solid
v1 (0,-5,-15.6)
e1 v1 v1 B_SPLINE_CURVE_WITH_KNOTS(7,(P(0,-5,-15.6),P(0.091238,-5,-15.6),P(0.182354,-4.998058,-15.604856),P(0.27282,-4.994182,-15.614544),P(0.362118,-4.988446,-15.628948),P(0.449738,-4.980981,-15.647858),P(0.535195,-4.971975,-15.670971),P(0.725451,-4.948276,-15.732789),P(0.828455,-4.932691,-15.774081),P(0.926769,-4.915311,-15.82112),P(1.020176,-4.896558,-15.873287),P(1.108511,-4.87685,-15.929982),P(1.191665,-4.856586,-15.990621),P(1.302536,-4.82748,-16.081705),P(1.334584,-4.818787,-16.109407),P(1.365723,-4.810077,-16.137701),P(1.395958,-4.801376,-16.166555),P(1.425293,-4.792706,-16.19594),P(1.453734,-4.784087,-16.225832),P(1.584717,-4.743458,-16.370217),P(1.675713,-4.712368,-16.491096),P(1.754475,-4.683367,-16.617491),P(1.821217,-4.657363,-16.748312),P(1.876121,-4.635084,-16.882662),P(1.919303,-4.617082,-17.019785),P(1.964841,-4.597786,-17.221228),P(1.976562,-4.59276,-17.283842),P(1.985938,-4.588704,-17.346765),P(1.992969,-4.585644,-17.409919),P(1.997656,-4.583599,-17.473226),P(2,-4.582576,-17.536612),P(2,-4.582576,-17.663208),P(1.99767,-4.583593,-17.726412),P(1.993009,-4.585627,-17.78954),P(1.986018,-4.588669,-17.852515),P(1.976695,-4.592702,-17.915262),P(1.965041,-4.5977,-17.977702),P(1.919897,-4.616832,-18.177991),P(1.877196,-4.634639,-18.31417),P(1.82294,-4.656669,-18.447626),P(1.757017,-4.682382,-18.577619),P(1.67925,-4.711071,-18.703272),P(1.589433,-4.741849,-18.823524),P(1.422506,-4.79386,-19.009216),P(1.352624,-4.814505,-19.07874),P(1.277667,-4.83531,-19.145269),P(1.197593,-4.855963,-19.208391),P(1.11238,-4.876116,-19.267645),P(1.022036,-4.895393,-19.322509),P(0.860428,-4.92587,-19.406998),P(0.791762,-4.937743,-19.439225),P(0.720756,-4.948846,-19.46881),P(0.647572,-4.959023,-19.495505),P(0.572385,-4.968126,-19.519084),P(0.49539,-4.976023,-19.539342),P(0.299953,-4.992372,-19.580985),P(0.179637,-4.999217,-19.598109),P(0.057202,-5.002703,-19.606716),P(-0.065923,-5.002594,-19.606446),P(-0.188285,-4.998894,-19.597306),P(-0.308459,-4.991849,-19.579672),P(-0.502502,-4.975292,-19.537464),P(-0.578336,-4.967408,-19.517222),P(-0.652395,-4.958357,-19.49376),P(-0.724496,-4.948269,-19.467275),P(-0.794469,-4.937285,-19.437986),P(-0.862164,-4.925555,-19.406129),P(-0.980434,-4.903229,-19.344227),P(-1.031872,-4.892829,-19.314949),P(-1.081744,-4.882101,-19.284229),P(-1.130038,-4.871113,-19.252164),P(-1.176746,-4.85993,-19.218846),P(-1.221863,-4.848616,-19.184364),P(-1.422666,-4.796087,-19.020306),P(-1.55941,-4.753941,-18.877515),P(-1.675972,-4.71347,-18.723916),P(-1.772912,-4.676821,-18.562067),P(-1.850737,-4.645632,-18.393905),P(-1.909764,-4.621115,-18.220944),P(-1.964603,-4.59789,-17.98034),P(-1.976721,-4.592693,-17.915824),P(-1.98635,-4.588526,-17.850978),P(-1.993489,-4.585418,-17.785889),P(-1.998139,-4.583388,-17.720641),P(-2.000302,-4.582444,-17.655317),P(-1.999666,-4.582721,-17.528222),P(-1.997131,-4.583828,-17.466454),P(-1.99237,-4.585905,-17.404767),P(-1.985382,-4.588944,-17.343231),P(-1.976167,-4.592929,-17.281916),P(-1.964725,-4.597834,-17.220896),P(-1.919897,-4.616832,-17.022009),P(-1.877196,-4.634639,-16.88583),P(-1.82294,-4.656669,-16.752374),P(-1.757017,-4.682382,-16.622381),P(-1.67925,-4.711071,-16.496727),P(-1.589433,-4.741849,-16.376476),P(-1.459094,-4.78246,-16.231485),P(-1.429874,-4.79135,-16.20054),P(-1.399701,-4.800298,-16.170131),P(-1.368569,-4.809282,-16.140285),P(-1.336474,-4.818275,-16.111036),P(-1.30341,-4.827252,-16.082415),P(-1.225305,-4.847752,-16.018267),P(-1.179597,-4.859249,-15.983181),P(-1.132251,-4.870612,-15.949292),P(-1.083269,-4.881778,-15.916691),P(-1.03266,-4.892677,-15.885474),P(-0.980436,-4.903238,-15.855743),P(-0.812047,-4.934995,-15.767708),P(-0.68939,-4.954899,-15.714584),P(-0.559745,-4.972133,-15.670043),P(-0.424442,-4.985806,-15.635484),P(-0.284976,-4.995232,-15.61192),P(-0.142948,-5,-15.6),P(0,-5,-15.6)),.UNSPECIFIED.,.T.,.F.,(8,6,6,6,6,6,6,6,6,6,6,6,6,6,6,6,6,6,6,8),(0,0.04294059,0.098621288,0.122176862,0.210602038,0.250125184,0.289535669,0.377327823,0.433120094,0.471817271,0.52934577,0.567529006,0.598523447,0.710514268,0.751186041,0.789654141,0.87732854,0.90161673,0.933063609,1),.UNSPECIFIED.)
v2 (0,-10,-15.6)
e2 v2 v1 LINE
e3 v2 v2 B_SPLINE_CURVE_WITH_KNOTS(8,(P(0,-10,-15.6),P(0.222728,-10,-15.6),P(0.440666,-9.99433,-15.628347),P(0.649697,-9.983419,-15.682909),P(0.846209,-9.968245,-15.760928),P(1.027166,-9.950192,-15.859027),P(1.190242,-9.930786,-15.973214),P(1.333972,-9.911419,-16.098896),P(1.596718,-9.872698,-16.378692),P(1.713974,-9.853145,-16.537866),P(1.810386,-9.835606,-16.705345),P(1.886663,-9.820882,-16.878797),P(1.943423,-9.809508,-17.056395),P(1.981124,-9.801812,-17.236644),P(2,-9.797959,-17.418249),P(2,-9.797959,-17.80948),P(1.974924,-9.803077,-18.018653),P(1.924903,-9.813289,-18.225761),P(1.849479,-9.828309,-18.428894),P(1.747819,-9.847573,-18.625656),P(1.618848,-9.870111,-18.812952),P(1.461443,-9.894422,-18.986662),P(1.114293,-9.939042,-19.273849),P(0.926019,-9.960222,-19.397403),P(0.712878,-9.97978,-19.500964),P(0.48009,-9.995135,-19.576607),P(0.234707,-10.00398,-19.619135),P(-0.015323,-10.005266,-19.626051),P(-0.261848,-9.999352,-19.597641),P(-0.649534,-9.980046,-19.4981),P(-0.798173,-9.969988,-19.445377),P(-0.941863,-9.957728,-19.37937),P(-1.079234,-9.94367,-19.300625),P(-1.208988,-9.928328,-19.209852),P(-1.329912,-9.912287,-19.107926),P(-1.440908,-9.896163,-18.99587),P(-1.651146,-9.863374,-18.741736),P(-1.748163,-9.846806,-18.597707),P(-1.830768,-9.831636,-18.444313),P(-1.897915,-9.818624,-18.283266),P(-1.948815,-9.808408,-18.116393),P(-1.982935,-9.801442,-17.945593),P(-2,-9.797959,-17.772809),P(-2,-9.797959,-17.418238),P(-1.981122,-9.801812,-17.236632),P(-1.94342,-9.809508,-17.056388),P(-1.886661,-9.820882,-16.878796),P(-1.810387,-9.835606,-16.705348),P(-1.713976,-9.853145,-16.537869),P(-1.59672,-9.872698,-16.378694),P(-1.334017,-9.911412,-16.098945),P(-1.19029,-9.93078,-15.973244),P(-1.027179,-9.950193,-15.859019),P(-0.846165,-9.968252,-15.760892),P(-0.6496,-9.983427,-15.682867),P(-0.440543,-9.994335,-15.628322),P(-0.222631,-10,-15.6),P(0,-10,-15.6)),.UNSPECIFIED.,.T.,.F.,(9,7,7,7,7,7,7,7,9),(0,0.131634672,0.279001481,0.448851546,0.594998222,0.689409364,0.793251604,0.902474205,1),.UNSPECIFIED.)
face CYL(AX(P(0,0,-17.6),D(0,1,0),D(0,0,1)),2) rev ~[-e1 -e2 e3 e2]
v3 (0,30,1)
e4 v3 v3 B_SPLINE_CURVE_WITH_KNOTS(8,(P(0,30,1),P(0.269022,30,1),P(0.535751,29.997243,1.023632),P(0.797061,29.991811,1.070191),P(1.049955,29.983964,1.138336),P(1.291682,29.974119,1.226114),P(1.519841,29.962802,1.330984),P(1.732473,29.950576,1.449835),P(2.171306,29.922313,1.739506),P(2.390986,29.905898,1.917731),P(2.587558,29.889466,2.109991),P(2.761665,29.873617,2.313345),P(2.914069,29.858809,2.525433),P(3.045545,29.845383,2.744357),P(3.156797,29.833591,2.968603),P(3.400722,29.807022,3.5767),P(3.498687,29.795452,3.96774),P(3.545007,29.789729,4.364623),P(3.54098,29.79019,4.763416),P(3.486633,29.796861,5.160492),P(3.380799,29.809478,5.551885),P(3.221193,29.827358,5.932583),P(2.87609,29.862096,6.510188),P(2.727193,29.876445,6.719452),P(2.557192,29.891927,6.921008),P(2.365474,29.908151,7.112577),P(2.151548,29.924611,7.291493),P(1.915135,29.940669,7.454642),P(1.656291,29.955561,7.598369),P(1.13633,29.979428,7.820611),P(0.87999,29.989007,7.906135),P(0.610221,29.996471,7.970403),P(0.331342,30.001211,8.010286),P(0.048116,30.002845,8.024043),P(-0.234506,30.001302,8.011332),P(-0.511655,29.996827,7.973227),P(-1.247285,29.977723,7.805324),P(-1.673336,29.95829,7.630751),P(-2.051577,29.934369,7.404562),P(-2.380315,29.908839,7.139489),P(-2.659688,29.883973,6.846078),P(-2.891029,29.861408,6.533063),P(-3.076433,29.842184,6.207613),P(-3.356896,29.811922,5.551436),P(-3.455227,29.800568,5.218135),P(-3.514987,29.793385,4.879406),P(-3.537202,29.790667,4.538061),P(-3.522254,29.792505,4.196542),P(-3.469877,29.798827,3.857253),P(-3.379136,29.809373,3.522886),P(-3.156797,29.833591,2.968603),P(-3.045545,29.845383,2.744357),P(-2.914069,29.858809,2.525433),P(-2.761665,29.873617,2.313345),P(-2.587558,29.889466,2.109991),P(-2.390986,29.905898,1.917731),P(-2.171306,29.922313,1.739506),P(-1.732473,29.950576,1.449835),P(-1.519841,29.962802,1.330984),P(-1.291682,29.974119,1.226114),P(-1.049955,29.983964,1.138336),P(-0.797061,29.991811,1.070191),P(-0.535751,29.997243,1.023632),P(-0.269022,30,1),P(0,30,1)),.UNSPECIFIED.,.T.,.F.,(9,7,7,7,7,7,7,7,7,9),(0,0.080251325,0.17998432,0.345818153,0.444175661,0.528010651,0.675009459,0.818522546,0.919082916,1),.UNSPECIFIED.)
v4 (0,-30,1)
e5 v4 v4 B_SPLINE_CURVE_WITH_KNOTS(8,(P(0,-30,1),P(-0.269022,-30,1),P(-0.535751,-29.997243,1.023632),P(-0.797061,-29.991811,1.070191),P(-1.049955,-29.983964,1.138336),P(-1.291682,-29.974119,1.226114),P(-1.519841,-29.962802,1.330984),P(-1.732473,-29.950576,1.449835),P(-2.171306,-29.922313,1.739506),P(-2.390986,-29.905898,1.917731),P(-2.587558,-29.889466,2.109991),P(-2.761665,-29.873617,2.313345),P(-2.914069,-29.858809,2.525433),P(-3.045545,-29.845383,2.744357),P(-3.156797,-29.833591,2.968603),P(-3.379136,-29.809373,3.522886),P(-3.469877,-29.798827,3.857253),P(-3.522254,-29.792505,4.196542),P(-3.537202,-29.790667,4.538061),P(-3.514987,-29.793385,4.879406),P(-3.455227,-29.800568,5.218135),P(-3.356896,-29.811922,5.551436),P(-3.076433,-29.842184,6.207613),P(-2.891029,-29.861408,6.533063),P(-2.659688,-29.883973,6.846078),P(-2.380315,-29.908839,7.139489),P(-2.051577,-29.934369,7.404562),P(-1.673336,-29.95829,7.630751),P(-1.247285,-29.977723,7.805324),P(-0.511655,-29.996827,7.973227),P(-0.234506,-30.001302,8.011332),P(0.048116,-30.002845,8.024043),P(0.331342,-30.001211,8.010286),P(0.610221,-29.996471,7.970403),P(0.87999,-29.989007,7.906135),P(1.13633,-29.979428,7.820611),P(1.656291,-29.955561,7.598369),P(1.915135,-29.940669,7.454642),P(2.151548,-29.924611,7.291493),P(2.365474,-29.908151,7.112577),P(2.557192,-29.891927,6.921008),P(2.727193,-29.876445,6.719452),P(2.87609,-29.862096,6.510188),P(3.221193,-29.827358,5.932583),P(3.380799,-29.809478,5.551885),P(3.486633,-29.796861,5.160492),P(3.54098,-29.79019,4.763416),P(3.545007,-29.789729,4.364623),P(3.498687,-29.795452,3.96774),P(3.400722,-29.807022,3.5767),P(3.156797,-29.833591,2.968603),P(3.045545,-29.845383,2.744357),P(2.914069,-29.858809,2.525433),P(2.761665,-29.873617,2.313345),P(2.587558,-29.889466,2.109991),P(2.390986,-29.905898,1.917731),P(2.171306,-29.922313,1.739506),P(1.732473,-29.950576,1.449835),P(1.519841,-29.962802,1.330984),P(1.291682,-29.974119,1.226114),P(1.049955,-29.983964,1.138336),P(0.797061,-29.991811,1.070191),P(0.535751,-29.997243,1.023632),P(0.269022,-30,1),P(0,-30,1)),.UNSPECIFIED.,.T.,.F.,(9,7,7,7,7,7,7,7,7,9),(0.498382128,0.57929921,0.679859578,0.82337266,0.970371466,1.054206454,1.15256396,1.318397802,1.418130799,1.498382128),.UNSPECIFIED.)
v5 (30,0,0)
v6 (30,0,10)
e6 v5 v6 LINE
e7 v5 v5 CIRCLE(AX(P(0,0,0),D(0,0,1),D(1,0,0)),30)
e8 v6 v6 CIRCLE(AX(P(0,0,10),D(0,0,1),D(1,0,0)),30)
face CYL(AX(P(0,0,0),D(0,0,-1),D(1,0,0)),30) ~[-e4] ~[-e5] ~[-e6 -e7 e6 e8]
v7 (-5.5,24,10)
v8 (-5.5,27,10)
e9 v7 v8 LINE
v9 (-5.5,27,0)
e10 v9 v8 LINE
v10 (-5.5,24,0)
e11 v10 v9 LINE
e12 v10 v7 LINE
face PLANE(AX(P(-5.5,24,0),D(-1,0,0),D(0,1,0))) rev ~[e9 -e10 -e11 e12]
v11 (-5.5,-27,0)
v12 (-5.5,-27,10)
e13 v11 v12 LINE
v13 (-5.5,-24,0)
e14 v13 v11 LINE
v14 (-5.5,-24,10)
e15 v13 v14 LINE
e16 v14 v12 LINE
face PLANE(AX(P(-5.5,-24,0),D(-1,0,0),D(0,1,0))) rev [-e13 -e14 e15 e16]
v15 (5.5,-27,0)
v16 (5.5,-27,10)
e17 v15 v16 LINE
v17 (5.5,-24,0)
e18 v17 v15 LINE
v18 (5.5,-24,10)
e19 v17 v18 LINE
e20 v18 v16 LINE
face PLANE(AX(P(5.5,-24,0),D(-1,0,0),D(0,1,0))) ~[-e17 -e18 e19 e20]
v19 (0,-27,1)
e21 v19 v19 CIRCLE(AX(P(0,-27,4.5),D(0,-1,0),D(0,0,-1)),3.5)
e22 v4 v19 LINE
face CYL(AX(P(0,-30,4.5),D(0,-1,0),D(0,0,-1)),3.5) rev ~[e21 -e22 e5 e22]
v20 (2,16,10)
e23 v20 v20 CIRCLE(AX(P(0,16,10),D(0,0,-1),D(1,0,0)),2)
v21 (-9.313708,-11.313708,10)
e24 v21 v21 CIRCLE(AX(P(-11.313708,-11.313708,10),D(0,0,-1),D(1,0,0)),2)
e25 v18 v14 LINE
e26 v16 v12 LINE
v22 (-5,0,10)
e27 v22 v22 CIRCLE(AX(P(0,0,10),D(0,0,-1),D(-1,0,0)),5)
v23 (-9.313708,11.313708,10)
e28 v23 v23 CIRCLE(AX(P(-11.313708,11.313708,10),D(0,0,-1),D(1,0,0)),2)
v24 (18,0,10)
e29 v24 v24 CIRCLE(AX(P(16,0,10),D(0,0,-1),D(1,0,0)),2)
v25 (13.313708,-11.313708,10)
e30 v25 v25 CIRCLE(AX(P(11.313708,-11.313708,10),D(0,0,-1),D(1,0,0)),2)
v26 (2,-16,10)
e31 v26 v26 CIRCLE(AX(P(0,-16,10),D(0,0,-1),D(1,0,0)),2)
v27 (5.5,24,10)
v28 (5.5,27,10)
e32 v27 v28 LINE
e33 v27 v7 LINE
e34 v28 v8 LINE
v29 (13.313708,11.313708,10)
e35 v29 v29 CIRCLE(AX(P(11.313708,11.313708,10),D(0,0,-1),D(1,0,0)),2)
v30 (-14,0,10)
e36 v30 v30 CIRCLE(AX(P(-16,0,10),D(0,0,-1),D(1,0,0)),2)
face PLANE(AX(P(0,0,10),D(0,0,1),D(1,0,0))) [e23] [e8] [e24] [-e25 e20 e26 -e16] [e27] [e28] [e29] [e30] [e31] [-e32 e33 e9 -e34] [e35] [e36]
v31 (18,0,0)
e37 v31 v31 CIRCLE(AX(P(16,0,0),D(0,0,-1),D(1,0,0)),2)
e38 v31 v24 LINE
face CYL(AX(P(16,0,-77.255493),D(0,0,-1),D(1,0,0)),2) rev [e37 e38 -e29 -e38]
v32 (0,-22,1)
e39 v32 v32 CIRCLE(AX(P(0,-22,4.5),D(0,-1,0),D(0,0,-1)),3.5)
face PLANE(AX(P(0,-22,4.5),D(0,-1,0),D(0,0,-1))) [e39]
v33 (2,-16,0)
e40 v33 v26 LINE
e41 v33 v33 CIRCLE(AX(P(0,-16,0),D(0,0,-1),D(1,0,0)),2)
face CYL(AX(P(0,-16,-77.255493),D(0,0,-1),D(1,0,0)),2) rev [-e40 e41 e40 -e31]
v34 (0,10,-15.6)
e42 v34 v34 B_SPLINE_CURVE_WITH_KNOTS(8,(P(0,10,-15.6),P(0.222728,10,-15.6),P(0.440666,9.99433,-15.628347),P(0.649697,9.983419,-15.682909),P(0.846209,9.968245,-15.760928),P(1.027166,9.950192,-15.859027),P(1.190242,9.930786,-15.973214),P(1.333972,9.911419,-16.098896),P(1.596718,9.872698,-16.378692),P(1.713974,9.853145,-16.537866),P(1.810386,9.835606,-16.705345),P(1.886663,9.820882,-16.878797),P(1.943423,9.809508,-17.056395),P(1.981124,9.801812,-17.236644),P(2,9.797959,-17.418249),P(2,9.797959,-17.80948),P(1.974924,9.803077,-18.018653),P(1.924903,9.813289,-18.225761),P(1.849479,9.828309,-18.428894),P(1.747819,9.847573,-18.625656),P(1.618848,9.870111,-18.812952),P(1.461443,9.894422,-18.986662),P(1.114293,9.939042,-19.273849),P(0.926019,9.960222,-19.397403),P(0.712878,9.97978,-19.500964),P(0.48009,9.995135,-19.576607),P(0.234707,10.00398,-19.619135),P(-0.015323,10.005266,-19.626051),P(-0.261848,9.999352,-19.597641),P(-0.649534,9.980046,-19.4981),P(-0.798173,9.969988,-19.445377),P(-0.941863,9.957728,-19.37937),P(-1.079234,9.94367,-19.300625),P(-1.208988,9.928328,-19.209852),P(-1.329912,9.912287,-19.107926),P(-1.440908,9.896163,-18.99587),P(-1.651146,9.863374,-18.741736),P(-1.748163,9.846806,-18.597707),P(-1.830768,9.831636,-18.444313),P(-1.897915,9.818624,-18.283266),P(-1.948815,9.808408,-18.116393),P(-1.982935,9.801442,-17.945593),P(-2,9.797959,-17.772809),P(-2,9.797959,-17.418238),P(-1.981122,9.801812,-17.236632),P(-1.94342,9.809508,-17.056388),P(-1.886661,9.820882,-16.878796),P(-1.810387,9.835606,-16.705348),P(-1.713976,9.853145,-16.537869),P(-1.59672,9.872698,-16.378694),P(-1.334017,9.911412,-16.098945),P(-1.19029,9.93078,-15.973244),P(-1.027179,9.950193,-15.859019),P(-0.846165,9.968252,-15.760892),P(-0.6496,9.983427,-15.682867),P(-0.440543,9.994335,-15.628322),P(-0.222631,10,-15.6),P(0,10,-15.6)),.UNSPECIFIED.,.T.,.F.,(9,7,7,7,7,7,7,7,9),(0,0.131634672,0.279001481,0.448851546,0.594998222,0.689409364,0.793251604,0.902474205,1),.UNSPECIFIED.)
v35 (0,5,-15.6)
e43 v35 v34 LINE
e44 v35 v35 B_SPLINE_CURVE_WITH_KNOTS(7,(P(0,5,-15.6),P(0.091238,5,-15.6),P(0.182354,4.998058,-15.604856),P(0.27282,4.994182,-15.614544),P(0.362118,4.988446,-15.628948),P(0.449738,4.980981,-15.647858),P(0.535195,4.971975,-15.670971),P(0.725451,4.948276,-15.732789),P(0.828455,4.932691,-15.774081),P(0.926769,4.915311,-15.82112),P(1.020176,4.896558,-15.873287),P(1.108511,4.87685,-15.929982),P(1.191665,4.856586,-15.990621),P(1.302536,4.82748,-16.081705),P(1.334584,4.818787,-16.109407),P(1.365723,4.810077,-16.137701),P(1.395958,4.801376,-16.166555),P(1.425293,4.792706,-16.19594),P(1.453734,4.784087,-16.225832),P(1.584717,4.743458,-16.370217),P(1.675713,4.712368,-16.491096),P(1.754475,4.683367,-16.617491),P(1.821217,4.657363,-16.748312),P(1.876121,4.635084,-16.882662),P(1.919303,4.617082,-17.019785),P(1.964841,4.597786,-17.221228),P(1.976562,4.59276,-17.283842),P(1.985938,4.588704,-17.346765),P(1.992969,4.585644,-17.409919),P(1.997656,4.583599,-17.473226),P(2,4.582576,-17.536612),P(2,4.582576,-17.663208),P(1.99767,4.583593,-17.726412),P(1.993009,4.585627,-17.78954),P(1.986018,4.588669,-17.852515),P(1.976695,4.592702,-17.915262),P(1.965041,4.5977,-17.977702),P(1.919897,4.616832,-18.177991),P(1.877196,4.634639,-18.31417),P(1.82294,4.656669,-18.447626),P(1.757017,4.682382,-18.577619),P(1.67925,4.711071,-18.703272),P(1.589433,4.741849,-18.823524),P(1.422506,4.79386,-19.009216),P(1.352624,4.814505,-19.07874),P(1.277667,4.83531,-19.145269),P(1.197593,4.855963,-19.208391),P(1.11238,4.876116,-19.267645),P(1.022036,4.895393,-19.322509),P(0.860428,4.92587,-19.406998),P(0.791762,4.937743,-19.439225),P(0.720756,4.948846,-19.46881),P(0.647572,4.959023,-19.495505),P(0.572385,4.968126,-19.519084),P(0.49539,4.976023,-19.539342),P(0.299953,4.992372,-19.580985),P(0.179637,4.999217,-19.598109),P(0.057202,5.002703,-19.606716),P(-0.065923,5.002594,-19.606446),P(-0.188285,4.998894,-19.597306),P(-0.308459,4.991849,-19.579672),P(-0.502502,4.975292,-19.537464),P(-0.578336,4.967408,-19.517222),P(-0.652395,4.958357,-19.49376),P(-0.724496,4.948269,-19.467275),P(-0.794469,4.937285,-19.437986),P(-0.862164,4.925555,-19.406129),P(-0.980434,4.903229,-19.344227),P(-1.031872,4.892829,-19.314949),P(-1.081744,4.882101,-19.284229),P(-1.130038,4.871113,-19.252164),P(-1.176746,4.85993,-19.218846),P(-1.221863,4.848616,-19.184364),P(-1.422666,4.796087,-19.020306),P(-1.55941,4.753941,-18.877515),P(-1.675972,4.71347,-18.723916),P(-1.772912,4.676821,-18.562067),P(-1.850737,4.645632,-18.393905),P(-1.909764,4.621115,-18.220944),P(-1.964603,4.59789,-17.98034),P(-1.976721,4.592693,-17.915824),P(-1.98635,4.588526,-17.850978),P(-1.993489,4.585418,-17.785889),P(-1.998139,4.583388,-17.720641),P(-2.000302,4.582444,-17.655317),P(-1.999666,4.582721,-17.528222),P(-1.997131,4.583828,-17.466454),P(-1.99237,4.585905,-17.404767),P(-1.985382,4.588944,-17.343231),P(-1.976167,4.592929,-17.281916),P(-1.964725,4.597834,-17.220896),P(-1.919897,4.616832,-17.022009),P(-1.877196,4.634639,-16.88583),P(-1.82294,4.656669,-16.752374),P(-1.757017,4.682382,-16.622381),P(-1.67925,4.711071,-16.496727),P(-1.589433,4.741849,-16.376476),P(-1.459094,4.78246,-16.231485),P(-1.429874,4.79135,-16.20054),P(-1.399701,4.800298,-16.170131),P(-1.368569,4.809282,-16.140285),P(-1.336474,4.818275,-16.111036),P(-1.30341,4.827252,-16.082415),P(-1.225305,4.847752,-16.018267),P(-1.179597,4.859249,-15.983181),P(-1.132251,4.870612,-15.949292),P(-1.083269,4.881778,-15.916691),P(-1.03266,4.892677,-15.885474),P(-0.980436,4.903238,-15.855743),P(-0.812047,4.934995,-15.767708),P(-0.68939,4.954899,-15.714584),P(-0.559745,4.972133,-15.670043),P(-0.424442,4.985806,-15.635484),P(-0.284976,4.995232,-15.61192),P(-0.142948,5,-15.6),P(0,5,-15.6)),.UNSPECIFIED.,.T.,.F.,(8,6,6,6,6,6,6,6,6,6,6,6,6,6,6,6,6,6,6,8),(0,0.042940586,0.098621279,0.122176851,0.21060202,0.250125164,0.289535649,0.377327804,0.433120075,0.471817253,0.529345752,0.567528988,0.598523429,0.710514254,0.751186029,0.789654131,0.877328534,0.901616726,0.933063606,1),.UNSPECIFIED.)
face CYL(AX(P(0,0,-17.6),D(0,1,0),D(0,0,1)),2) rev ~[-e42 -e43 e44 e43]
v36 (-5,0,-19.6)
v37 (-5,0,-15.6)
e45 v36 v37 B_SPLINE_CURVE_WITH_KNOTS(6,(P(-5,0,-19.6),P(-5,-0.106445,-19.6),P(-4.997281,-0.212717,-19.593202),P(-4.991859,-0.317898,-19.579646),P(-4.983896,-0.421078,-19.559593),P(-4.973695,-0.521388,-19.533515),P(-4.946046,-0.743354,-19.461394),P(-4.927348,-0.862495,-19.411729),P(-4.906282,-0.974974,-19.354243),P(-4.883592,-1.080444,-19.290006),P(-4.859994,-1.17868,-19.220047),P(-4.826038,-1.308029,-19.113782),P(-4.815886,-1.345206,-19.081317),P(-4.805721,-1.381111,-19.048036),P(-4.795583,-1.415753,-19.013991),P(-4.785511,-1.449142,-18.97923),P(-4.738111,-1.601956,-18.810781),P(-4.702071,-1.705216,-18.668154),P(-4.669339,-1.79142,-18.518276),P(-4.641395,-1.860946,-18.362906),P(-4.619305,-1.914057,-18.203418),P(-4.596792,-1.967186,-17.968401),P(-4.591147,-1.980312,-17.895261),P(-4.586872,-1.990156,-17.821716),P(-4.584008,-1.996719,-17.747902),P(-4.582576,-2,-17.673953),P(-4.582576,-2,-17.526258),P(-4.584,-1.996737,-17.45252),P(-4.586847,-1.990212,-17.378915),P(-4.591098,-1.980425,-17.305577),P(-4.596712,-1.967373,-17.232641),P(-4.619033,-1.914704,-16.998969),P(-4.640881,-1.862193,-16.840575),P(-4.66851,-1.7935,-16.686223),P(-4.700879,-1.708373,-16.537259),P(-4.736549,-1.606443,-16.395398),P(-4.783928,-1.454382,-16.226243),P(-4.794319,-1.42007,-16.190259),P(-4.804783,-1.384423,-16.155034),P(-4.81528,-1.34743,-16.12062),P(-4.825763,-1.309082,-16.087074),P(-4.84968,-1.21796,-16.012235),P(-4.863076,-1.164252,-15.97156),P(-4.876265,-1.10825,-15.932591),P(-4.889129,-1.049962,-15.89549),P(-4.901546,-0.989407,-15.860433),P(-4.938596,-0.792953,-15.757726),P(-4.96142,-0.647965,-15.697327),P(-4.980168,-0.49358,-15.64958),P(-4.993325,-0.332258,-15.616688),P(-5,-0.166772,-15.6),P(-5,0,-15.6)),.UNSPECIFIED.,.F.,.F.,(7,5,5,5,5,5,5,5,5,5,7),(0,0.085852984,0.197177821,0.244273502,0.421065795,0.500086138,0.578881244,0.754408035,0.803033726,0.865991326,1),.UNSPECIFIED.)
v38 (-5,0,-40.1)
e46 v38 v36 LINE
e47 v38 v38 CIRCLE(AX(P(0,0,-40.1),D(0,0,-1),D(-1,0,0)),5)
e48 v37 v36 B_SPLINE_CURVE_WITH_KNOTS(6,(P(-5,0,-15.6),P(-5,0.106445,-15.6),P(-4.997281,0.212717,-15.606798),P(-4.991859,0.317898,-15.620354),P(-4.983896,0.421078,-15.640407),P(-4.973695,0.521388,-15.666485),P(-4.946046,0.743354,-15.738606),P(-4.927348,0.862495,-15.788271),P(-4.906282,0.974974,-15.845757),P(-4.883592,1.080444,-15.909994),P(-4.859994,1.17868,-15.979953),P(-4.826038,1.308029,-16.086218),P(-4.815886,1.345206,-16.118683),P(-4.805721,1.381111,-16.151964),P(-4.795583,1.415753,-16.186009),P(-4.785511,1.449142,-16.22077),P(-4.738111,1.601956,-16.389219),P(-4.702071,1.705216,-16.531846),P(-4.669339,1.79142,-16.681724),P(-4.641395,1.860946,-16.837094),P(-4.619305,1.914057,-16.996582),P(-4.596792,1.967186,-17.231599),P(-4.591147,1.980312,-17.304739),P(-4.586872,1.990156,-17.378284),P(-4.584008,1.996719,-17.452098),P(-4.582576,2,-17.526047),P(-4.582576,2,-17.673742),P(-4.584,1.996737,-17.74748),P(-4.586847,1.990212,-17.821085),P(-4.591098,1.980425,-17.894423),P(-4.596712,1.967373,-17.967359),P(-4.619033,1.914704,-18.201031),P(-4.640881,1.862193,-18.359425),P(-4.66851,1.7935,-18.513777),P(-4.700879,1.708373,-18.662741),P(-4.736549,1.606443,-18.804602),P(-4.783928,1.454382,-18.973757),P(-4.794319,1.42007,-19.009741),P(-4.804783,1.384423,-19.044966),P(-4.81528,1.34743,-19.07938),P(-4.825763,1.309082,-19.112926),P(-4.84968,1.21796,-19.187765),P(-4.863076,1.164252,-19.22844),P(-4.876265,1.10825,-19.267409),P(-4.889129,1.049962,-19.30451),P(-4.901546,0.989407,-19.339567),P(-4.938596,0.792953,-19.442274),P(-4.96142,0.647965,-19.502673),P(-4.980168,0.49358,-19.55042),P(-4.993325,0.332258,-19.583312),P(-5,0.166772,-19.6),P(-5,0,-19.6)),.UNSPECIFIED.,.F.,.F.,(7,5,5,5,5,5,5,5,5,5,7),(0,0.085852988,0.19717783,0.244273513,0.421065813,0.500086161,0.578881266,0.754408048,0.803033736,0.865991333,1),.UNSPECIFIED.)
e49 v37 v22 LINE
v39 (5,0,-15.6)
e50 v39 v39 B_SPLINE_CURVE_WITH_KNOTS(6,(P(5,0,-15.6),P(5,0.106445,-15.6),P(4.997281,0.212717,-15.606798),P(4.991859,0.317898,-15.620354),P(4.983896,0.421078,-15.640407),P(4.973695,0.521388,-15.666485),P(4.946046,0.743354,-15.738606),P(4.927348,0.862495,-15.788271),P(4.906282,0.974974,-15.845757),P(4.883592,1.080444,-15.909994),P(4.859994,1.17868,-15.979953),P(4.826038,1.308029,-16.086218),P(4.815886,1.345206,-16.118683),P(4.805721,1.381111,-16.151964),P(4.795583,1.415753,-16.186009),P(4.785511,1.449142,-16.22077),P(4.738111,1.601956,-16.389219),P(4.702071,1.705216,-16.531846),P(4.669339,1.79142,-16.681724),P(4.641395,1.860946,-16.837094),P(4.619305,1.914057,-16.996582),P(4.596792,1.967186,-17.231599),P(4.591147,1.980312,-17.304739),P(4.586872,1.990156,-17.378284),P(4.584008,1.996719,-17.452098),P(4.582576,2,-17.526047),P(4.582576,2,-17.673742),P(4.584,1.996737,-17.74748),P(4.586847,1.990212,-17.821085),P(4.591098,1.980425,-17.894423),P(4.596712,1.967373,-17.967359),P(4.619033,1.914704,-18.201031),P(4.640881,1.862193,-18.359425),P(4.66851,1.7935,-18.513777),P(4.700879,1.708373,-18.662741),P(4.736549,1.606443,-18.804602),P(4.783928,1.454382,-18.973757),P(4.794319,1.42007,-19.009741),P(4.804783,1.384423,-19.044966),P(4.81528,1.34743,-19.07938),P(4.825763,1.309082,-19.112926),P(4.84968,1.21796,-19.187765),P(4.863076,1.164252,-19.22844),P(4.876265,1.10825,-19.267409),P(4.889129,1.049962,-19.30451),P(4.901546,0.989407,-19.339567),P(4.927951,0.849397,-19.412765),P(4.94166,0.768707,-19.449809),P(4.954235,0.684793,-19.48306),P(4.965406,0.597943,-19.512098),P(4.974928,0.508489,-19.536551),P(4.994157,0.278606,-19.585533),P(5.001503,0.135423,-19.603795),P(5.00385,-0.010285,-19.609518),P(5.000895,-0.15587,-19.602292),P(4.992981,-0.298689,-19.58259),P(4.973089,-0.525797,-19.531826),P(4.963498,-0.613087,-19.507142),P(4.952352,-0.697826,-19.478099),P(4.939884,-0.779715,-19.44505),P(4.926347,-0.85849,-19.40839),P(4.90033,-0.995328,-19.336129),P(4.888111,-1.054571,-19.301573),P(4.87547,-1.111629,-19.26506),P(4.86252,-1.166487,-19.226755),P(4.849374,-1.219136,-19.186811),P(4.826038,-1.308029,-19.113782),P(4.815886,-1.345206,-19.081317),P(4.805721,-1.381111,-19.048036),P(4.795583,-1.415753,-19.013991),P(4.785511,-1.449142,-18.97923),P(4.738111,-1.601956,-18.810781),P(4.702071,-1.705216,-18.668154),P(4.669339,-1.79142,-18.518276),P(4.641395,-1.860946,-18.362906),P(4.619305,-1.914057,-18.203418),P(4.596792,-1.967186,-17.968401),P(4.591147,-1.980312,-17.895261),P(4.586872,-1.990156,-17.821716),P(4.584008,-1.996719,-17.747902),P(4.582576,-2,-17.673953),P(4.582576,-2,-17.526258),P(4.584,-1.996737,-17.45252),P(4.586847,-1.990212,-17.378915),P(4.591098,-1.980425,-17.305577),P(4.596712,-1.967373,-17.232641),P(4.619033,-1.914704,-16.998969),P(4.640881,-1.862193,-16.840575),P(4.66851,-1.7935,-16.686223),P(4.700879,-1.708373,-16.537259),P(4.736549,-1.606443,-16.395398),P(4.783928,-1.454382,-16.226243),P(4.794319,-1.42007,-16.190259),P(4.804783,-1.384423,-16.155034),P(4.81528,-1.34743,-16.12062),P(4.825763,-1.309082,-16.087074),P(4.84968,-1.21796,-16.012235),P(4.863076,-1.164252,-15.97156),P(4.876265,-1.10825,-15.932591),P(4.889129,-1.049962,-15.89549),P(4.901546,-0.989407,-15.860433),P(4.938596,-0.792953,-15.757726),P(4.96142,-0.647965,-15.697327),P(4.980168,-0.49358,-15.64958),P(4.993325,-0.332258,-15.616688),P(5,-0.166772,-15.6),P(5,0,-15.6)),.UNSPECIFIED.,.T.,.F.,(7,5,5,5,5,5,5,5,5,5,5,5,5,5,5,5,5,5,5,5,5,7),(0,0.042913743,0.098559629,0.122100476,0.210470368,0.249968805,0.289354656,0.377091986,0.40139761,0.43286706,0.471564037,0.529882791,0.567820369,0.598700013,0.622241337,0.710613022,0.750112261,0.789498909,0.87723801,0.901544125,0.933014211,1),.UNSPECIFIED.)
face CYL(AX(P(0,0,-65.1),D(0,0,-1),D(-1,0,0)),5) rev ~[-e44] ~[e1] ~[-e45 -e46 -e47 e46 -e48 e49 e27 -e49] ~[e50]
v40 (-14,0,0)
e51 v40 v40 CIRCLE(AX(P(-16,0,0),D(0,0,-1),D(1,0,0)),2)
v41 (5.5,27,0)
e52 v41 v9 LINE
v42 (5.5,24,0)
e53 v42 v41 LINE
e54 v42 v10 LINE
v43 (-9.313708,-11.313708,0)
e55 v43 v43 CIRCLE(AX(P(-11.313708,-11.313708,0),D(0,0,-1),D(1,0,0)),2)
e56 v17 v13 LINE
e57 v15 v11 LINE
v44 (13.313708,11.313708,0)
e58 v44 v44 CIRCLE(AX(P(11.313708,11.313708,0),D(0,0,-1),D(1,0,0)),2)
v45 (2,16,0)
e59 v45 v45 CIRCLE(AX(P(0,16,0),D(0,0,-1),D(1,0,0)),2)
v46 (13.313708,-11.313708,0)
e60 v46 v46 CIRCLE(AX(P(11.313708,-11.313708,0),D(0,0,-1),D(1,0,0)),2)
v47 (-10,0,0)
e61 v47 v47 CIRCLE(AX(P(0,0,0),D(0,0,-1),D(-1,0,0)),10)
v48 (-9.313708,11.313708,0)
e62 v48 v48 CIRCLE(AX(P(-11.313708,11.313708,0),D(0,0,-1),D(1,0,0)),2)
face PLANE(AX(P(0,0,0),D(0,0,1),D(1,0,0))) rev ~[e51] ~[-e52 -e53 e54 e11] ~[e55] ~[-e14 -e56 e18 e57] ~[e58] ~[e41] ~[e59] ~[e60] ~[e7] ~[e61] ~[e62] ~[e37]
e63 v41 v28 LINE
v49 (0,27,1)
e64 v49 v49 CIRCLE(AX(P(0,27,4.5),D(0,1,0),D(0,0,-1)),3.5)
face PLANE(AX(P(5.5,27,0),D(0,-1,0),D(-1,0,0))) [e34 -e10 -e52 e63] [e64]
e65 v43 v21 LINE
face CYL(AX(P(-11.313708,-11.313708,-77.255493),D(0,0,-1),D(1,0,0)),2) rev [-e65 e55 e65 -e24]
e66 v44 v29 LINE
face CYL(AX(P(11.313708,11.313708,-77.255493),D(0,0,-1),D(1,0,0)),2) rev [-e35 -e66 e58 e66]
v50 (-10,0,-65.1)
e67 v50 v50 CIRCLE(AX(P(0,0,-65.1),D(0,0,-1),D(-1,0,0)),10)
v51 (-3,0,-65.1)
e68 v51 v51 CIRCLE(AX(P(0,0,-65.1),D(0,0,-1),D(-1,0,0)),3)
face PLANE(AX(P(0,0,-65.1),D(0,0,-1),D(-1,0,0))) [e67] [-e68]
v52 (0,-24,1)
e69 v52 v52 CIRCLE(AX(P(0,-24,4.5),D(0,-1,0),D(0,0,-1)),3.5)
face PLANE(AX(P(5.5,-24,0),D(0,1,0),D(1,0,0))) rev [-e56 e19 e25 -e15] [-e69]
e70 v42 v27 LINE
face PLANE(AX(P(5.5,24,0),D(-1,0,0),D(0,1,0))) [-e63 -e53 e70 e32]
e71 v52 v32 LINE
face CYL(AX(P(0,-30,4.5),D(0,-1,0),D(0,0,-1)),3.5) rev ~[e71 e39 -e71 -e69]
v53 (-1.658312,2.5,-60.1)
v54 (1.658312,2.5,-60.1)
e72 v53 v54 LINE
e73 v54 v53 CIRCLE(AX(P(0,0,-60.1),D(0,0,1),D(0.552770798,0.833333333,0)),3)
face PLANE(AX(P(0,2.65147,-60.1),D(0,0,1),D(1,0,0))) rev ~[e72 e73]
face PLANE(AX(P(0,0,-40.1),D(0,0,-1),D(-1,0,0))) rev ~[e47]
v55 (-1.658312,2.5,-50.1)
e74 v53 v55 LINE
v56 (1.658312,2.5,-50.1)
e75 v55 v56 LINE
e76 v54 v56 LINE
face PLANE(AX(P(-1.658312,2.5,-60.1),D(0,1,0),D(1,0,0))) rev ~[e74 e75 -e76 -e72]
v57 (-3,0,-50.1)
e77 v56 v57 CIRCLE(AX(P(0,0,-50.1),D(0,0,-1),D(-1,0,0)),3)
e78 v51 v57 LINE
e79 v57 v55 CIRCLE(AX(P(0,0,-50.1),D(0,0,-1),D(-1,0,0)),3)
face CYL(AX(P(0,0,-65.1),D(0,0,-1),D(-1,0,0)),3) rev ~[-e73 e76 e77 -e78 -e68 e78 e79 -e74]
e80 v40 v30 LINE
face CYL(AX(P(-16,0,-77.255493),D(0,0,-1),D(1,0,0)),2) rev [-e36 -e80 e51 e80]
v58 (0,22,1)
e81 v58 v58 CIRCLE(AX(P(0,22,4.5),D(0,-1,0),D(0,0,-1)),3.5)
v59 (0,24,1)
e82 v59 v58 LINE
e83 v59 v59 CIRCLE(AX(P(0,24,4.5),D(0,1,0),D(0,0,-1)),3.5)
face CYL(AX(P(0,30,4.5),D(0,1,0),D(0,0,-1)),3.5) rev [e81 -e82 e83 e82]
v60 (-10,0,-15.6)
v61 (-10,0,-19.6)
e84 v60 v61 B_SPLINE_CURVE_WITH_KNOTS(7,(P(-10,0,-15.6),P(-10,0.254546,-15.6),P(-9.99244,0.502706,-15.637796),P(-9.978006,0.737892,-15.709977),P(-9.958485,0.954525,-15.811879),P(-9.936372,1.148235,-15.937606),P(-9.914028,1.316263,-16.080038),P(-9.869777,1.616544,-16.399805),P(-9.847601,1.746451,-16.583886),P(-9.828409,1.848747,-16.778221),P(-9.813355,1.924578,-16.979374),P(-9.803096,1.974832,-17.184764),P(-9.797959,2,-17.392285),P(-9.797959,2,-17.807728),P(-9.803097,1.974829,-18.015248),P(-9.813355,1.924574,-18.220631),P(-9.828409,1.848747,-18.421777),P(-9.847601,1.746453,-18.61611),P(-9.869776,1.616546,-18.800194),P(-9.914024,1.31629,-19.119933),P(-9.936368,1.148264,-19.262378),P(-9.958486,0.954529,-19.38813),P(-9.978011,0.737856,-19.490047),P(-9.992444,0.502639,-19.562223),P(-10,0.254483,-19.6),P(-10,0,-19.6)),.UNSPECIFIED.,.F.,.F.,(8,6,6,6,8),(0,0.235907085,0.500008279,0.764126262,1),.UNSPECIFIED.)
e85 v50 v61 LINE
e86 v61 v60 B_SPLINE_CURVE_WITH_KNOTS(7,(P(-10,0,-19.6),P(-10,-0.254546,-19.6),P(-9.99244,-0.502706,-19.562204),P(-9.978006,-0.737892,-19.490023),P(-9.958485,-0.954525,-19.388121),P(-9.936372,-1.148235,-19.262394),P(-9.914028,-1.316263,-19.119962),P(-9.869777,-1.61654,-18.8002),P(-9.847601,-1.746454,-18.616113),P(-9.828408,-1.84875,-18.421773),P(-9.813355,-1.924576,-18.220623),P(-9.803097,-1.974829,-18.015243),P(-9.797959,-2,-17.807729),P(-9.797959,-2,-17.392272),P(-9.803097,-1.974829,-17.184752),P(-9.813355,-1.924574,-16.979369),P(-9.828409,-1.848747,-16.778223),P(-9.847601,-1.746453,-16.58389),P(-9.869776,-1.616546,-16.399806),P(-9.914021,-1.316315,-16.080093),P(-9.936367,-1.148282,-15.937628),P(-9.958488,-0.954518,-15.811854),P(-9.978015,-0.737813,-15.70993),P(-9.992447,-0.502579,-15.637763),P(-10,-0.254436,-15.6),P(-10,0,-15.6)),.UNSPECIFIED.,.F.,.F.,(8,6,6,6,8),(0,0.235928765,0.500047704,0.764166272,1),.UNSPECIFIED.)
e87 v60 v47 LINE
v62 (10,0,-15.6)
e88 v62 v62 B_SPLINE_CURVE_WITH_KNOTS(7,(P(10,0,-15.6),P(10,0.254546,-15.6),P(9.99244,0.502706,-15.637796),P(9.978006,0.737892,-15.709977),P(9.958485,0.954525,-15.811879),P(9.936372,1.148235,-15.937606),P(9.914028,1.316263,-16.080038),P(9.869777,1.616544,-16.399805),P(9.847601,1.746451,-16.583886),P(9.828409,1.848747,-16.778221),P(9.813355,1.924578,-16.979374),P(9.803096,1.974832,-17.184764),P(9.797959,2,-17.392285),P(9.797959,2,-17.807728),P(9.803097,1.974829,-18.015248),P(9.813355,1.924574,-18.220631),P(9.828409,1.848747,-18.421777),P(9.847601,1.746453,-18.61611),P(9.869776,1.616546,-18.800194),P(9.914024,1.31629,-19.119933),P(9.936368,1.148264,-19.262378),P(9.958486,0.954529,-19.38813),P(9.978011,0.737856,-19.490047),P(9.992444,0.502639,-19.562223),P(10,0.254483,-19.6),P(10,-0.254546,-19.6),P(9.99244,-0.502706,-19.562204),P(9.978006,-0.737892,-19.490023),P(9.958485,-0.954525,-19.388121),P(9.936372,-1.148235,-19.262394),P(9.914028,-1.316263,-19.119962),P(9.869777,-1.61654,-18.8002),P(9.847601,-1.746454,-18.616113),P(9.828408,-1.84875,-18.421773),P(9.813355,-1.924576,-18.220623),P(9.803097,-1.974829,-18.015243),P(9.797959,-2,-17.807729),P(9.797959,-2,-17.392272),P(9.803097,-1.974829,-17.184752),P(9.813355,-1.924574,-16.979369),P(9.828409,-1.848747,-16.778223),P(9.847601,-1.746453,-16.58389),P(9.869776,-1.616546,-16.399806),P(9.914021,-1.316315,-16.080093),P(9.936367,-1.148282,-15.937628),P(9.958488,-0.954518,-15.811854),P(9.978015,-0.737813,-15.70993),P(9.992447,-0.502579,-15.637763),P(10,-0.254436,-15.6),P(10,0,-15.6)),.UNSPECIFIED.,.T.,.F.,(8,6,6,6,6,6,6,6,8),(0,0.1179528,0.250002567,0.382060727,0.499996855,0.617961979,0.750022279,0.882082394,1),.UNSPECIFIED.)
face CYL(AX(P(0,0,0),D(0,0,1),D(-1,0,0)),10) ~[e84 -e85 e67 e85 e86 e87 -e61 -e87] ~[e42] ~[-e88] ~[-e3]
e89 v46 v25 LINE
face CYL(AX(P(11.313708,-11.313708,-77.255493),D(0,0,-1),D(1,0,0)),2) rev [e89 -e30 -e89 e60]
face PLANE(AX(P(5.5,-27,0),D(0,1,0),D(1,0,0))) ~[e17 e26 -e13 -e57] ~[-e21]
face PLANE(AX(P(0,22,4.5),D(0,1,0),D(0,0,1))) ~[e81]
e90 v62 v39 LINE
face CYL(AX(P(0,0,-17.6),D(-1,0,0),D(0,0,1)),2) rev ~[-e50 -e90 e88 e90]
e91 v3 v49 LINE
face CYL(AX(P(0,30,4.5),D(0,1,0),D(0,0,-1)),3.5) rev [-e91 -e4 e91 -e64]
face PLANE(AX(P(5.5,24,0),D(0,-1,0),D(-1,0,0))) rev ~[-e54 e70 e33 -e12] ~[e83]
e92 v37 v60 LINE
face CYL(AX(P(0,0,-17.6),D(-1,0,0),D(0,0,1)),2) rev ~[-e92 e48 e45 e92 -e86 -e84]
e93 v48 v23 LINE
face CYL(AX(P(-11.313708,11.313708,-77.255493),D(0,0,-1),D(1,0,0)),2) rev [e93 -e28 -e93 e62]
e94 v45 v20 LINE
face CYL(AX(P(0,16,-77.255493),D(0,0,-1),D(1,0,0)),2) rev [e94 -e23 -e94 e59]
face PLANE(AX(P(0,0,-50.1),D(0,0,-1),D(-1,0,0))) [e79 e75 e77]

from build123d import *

# Parameters (mm, degrees)
SKETCH1_R               = 30
BOSS_EXTRUDE1_DEPTH     = 10
SKETCH2_R               = 10
BOSS_EXTRUDE2_DEPTH     = 65.1
SKETCH2_2_R             = 10
BOSS_EXTRUDE3_DEPTH     = 20
SKETCH5_R               = 5
CUT_EXTRUDE1_DEPTH      = 87.255492579
SKETCH6_R               = 2
CUT_EXTRUDE2_DEPTH      = 78.704633067
CIRPATTERN1_COUNT       = 2
CIRPATTERN1_ANGLE       = 90
CUT_EXTRUDE3_DEPTH      = 87.255492666
CUT_EXTRUDE3_DEPTH_BACK = 87.255492666
SKETCH7_R               = 2
SKETCH9_W               = 11
SKETCH9_H               = 3
CUT_EXTRUDE5_DEPTH      = 10
SKETCH10_R              = 3.5
CUT_EXTRUDE6_DEPTH      = 8
SKETCH17_R              = 7.355644599
BOSS_EXTRUDE4_DEPTH     = 25
SKETCH18_R              = 3
CUT_EXTRUDE7_DEPTH      = 15
BOSS_EXTRUDE5_START     = 10
BOSS_EXTRUDE5_DEPTH     = 10


with BuildPart() as part:
    # Sketch1 → Boss-Extrude1 (new body)
    with BuildSketch(Plane.XY):
        Circle(SKETCH1_R)
    extrude(amount=BOSS_EXTRUDE1_DEPTH)

    # Sketch2 → Boss-Extrude2 (add)
    with BuildSketch(Plane(origin=(0, 0, 0), x_dir=(-1, 0, 0), z_dir=(0, 0, -1))):
        Circle(SKETCH2_R)
    extrude(amount=BOSS_EXTRUDE2_DEPTH)

    # Sketch2<2> → Boss-Extrude3 (add)
    with BuildSketch(Plane(origin=(0, 0, 0), x_dir=(-1, 0, 0), z_dir=(0, 0, -1))):
        Circle(SKETCH2_2_R)
    extrude(amount=BOSS_EXTRUDE3_DEPTH)

    # Sketch5 → Cut-Extrude1 (cut, through all)
    with BuildSketch(Plane(origin=(0, 0, -65.1), x_dir=(-1, 0, 0), z_dir=(0, 0, -1))):
        Circle(SKETCH5_R)
    extrude(amount=-CUT_EXTRUDE1_DEPTH, mode=Mode.SUBTRACT)

    # Sketch6 → Cut-Extrude2 (cut, symmetric)
    with BuildSketch(Plane(origin=(0, 0, 0), x_dir=(1, 0, 0), z_dir=(0, 1, 0))):
        with Locations((0, 17.6)):
            Circle(SKETCH6_R)
    cut_extrude2 = extrude(amount=CUT_EXTRUDE2_DEPTH, both=True, mode=Mode.SUBTRACT)

    # CirPattern1: Cut-Extrude2 ×2 about axis
    cirpattern1_axis = Axis((0, 0, -65.1), (0, 0, 1))
    for i in range(1, CIRPATTERN1_COUNT):
        add(cut_extrude2.rotate(cirpattern1_axis, i * CIRPATTERN1_ANGLE / (CIRPATTERN1_COUNT - 1)), mode=Mode.SUBTRACT)

    # Sketch7 → Cut-Extrude3 (cut, two sides: drawn at the far end of the back side and taken through both)
    with BuildSketch(Plane.XY.offset(10).offset(-CUT_EXTRUDE3_DEPTH_BACK)):
        with Locations((0, 16)):
            Circle(SKETCH7_R)
        with Locations((11.313708499, 11.313708499)):
            Circle(SKETCH7_R)
        with Locations((16, 0)):
            Circle(SKETCH7_R)
        with Locations((11.313708499, -11.313708499)):
            Circle(SKETCH7_R)
        with Locations((0, -16)):
            Circle(SKETCH7_R)
        with Locations((-11.313708499, -11.313708499)):
            Circle(SKETCH7_R)
        with Locations((-16, 0)):
            Circle(SKETCH7_R)
        with Locations((-11.313708499, 11.313708499)):
            Circle(SKETCH7_R)
    extrude(amount=CUT_EXTRUDE3_DEPTH + CUT_EXTRUDE3_DEPTH_BACK, mode=Mode.SUBTRACT)

    # Sketch9 → Cut-Extrude5 (cut)
    with BuildSketch(Plane(origin=(0, 0, 0), x_dir=(-1, 0, 0), z_dir=(0, 0, -1))):
        with Locations((0, 25.5)):
            Rectangle(SKETCH9_W, SKETCH9_H)
    cut_extrude5 = extrude(amount=-CUT_EXTRUDE5_DEPTH, mode=Mode.SUBTRACT)

    # Mirror1: Cut-Extrude5 across plane
    add(cut_extrude5.mirror(Plane.ZX), mode=Mode.SUBTRACT)

    # Sketch10 → Cut-Extrude6 (cut)
    with BuildSketch(Plane(origin=(0, -30, 0), x_dir=(-1, 0, 0), z_dir=(0, -1, 0))):
        with Locations((0, -4.5)):
            Circle(SKETCH10_R)
    cut_extrude6 = extrude(amount=-CUT_EXTRUDE6_DEPTH, mode=Mode.SUBTRACT)

    # Mirror2: Cut-Extrude6 across plane
    add(cut_extrude6.mirror(Plane.ZX), mode=Mode.SUBTRACT)

    # Sketch17 → Boss-Extrude4 (add)
    with BuildSketch(Plane(origin=(0, 0, -40.1), x_dir=(-1, 0, 0), z_dir=(0, 0, -1))):
        Circle(SKETCH17_R)
    extrude(amount=BOSS_EXTRUDE4_DEPTH)

    # Sketch18 → Cut-Extrude7 (cut)
    with BuildSketch(Plane(origin=(0, 0, -65.1), x_dir=(-1, 0, 0), z_dir=(0, 0, -1))):
        Circle(SKETCH18_R)
    extrude(amount=-CUT_EXTRUDE7_DEPTH, mode=Mode.SUBTRACT)

    # Sketch19 → Boss-Extrude5 (add)
    with BuildSketch(Plane(origin=(0, 0, -50.1), x_dir=(-1, 0, 0), z_dir=(0, 0, -1)).offset(BOSS_EXTRUDE5_START)):
        with BuildLine():
            Line((1.658312395, 2.5), (-1.658312395, 2.5))
            ThreePointArc((-1.658312395, 2.5), (0, 3), (1.658312395, 2.5))
        make_face()
    extrude(amount=-BOSS_EXTRUDE5_DEPTH)


solid = part.part
